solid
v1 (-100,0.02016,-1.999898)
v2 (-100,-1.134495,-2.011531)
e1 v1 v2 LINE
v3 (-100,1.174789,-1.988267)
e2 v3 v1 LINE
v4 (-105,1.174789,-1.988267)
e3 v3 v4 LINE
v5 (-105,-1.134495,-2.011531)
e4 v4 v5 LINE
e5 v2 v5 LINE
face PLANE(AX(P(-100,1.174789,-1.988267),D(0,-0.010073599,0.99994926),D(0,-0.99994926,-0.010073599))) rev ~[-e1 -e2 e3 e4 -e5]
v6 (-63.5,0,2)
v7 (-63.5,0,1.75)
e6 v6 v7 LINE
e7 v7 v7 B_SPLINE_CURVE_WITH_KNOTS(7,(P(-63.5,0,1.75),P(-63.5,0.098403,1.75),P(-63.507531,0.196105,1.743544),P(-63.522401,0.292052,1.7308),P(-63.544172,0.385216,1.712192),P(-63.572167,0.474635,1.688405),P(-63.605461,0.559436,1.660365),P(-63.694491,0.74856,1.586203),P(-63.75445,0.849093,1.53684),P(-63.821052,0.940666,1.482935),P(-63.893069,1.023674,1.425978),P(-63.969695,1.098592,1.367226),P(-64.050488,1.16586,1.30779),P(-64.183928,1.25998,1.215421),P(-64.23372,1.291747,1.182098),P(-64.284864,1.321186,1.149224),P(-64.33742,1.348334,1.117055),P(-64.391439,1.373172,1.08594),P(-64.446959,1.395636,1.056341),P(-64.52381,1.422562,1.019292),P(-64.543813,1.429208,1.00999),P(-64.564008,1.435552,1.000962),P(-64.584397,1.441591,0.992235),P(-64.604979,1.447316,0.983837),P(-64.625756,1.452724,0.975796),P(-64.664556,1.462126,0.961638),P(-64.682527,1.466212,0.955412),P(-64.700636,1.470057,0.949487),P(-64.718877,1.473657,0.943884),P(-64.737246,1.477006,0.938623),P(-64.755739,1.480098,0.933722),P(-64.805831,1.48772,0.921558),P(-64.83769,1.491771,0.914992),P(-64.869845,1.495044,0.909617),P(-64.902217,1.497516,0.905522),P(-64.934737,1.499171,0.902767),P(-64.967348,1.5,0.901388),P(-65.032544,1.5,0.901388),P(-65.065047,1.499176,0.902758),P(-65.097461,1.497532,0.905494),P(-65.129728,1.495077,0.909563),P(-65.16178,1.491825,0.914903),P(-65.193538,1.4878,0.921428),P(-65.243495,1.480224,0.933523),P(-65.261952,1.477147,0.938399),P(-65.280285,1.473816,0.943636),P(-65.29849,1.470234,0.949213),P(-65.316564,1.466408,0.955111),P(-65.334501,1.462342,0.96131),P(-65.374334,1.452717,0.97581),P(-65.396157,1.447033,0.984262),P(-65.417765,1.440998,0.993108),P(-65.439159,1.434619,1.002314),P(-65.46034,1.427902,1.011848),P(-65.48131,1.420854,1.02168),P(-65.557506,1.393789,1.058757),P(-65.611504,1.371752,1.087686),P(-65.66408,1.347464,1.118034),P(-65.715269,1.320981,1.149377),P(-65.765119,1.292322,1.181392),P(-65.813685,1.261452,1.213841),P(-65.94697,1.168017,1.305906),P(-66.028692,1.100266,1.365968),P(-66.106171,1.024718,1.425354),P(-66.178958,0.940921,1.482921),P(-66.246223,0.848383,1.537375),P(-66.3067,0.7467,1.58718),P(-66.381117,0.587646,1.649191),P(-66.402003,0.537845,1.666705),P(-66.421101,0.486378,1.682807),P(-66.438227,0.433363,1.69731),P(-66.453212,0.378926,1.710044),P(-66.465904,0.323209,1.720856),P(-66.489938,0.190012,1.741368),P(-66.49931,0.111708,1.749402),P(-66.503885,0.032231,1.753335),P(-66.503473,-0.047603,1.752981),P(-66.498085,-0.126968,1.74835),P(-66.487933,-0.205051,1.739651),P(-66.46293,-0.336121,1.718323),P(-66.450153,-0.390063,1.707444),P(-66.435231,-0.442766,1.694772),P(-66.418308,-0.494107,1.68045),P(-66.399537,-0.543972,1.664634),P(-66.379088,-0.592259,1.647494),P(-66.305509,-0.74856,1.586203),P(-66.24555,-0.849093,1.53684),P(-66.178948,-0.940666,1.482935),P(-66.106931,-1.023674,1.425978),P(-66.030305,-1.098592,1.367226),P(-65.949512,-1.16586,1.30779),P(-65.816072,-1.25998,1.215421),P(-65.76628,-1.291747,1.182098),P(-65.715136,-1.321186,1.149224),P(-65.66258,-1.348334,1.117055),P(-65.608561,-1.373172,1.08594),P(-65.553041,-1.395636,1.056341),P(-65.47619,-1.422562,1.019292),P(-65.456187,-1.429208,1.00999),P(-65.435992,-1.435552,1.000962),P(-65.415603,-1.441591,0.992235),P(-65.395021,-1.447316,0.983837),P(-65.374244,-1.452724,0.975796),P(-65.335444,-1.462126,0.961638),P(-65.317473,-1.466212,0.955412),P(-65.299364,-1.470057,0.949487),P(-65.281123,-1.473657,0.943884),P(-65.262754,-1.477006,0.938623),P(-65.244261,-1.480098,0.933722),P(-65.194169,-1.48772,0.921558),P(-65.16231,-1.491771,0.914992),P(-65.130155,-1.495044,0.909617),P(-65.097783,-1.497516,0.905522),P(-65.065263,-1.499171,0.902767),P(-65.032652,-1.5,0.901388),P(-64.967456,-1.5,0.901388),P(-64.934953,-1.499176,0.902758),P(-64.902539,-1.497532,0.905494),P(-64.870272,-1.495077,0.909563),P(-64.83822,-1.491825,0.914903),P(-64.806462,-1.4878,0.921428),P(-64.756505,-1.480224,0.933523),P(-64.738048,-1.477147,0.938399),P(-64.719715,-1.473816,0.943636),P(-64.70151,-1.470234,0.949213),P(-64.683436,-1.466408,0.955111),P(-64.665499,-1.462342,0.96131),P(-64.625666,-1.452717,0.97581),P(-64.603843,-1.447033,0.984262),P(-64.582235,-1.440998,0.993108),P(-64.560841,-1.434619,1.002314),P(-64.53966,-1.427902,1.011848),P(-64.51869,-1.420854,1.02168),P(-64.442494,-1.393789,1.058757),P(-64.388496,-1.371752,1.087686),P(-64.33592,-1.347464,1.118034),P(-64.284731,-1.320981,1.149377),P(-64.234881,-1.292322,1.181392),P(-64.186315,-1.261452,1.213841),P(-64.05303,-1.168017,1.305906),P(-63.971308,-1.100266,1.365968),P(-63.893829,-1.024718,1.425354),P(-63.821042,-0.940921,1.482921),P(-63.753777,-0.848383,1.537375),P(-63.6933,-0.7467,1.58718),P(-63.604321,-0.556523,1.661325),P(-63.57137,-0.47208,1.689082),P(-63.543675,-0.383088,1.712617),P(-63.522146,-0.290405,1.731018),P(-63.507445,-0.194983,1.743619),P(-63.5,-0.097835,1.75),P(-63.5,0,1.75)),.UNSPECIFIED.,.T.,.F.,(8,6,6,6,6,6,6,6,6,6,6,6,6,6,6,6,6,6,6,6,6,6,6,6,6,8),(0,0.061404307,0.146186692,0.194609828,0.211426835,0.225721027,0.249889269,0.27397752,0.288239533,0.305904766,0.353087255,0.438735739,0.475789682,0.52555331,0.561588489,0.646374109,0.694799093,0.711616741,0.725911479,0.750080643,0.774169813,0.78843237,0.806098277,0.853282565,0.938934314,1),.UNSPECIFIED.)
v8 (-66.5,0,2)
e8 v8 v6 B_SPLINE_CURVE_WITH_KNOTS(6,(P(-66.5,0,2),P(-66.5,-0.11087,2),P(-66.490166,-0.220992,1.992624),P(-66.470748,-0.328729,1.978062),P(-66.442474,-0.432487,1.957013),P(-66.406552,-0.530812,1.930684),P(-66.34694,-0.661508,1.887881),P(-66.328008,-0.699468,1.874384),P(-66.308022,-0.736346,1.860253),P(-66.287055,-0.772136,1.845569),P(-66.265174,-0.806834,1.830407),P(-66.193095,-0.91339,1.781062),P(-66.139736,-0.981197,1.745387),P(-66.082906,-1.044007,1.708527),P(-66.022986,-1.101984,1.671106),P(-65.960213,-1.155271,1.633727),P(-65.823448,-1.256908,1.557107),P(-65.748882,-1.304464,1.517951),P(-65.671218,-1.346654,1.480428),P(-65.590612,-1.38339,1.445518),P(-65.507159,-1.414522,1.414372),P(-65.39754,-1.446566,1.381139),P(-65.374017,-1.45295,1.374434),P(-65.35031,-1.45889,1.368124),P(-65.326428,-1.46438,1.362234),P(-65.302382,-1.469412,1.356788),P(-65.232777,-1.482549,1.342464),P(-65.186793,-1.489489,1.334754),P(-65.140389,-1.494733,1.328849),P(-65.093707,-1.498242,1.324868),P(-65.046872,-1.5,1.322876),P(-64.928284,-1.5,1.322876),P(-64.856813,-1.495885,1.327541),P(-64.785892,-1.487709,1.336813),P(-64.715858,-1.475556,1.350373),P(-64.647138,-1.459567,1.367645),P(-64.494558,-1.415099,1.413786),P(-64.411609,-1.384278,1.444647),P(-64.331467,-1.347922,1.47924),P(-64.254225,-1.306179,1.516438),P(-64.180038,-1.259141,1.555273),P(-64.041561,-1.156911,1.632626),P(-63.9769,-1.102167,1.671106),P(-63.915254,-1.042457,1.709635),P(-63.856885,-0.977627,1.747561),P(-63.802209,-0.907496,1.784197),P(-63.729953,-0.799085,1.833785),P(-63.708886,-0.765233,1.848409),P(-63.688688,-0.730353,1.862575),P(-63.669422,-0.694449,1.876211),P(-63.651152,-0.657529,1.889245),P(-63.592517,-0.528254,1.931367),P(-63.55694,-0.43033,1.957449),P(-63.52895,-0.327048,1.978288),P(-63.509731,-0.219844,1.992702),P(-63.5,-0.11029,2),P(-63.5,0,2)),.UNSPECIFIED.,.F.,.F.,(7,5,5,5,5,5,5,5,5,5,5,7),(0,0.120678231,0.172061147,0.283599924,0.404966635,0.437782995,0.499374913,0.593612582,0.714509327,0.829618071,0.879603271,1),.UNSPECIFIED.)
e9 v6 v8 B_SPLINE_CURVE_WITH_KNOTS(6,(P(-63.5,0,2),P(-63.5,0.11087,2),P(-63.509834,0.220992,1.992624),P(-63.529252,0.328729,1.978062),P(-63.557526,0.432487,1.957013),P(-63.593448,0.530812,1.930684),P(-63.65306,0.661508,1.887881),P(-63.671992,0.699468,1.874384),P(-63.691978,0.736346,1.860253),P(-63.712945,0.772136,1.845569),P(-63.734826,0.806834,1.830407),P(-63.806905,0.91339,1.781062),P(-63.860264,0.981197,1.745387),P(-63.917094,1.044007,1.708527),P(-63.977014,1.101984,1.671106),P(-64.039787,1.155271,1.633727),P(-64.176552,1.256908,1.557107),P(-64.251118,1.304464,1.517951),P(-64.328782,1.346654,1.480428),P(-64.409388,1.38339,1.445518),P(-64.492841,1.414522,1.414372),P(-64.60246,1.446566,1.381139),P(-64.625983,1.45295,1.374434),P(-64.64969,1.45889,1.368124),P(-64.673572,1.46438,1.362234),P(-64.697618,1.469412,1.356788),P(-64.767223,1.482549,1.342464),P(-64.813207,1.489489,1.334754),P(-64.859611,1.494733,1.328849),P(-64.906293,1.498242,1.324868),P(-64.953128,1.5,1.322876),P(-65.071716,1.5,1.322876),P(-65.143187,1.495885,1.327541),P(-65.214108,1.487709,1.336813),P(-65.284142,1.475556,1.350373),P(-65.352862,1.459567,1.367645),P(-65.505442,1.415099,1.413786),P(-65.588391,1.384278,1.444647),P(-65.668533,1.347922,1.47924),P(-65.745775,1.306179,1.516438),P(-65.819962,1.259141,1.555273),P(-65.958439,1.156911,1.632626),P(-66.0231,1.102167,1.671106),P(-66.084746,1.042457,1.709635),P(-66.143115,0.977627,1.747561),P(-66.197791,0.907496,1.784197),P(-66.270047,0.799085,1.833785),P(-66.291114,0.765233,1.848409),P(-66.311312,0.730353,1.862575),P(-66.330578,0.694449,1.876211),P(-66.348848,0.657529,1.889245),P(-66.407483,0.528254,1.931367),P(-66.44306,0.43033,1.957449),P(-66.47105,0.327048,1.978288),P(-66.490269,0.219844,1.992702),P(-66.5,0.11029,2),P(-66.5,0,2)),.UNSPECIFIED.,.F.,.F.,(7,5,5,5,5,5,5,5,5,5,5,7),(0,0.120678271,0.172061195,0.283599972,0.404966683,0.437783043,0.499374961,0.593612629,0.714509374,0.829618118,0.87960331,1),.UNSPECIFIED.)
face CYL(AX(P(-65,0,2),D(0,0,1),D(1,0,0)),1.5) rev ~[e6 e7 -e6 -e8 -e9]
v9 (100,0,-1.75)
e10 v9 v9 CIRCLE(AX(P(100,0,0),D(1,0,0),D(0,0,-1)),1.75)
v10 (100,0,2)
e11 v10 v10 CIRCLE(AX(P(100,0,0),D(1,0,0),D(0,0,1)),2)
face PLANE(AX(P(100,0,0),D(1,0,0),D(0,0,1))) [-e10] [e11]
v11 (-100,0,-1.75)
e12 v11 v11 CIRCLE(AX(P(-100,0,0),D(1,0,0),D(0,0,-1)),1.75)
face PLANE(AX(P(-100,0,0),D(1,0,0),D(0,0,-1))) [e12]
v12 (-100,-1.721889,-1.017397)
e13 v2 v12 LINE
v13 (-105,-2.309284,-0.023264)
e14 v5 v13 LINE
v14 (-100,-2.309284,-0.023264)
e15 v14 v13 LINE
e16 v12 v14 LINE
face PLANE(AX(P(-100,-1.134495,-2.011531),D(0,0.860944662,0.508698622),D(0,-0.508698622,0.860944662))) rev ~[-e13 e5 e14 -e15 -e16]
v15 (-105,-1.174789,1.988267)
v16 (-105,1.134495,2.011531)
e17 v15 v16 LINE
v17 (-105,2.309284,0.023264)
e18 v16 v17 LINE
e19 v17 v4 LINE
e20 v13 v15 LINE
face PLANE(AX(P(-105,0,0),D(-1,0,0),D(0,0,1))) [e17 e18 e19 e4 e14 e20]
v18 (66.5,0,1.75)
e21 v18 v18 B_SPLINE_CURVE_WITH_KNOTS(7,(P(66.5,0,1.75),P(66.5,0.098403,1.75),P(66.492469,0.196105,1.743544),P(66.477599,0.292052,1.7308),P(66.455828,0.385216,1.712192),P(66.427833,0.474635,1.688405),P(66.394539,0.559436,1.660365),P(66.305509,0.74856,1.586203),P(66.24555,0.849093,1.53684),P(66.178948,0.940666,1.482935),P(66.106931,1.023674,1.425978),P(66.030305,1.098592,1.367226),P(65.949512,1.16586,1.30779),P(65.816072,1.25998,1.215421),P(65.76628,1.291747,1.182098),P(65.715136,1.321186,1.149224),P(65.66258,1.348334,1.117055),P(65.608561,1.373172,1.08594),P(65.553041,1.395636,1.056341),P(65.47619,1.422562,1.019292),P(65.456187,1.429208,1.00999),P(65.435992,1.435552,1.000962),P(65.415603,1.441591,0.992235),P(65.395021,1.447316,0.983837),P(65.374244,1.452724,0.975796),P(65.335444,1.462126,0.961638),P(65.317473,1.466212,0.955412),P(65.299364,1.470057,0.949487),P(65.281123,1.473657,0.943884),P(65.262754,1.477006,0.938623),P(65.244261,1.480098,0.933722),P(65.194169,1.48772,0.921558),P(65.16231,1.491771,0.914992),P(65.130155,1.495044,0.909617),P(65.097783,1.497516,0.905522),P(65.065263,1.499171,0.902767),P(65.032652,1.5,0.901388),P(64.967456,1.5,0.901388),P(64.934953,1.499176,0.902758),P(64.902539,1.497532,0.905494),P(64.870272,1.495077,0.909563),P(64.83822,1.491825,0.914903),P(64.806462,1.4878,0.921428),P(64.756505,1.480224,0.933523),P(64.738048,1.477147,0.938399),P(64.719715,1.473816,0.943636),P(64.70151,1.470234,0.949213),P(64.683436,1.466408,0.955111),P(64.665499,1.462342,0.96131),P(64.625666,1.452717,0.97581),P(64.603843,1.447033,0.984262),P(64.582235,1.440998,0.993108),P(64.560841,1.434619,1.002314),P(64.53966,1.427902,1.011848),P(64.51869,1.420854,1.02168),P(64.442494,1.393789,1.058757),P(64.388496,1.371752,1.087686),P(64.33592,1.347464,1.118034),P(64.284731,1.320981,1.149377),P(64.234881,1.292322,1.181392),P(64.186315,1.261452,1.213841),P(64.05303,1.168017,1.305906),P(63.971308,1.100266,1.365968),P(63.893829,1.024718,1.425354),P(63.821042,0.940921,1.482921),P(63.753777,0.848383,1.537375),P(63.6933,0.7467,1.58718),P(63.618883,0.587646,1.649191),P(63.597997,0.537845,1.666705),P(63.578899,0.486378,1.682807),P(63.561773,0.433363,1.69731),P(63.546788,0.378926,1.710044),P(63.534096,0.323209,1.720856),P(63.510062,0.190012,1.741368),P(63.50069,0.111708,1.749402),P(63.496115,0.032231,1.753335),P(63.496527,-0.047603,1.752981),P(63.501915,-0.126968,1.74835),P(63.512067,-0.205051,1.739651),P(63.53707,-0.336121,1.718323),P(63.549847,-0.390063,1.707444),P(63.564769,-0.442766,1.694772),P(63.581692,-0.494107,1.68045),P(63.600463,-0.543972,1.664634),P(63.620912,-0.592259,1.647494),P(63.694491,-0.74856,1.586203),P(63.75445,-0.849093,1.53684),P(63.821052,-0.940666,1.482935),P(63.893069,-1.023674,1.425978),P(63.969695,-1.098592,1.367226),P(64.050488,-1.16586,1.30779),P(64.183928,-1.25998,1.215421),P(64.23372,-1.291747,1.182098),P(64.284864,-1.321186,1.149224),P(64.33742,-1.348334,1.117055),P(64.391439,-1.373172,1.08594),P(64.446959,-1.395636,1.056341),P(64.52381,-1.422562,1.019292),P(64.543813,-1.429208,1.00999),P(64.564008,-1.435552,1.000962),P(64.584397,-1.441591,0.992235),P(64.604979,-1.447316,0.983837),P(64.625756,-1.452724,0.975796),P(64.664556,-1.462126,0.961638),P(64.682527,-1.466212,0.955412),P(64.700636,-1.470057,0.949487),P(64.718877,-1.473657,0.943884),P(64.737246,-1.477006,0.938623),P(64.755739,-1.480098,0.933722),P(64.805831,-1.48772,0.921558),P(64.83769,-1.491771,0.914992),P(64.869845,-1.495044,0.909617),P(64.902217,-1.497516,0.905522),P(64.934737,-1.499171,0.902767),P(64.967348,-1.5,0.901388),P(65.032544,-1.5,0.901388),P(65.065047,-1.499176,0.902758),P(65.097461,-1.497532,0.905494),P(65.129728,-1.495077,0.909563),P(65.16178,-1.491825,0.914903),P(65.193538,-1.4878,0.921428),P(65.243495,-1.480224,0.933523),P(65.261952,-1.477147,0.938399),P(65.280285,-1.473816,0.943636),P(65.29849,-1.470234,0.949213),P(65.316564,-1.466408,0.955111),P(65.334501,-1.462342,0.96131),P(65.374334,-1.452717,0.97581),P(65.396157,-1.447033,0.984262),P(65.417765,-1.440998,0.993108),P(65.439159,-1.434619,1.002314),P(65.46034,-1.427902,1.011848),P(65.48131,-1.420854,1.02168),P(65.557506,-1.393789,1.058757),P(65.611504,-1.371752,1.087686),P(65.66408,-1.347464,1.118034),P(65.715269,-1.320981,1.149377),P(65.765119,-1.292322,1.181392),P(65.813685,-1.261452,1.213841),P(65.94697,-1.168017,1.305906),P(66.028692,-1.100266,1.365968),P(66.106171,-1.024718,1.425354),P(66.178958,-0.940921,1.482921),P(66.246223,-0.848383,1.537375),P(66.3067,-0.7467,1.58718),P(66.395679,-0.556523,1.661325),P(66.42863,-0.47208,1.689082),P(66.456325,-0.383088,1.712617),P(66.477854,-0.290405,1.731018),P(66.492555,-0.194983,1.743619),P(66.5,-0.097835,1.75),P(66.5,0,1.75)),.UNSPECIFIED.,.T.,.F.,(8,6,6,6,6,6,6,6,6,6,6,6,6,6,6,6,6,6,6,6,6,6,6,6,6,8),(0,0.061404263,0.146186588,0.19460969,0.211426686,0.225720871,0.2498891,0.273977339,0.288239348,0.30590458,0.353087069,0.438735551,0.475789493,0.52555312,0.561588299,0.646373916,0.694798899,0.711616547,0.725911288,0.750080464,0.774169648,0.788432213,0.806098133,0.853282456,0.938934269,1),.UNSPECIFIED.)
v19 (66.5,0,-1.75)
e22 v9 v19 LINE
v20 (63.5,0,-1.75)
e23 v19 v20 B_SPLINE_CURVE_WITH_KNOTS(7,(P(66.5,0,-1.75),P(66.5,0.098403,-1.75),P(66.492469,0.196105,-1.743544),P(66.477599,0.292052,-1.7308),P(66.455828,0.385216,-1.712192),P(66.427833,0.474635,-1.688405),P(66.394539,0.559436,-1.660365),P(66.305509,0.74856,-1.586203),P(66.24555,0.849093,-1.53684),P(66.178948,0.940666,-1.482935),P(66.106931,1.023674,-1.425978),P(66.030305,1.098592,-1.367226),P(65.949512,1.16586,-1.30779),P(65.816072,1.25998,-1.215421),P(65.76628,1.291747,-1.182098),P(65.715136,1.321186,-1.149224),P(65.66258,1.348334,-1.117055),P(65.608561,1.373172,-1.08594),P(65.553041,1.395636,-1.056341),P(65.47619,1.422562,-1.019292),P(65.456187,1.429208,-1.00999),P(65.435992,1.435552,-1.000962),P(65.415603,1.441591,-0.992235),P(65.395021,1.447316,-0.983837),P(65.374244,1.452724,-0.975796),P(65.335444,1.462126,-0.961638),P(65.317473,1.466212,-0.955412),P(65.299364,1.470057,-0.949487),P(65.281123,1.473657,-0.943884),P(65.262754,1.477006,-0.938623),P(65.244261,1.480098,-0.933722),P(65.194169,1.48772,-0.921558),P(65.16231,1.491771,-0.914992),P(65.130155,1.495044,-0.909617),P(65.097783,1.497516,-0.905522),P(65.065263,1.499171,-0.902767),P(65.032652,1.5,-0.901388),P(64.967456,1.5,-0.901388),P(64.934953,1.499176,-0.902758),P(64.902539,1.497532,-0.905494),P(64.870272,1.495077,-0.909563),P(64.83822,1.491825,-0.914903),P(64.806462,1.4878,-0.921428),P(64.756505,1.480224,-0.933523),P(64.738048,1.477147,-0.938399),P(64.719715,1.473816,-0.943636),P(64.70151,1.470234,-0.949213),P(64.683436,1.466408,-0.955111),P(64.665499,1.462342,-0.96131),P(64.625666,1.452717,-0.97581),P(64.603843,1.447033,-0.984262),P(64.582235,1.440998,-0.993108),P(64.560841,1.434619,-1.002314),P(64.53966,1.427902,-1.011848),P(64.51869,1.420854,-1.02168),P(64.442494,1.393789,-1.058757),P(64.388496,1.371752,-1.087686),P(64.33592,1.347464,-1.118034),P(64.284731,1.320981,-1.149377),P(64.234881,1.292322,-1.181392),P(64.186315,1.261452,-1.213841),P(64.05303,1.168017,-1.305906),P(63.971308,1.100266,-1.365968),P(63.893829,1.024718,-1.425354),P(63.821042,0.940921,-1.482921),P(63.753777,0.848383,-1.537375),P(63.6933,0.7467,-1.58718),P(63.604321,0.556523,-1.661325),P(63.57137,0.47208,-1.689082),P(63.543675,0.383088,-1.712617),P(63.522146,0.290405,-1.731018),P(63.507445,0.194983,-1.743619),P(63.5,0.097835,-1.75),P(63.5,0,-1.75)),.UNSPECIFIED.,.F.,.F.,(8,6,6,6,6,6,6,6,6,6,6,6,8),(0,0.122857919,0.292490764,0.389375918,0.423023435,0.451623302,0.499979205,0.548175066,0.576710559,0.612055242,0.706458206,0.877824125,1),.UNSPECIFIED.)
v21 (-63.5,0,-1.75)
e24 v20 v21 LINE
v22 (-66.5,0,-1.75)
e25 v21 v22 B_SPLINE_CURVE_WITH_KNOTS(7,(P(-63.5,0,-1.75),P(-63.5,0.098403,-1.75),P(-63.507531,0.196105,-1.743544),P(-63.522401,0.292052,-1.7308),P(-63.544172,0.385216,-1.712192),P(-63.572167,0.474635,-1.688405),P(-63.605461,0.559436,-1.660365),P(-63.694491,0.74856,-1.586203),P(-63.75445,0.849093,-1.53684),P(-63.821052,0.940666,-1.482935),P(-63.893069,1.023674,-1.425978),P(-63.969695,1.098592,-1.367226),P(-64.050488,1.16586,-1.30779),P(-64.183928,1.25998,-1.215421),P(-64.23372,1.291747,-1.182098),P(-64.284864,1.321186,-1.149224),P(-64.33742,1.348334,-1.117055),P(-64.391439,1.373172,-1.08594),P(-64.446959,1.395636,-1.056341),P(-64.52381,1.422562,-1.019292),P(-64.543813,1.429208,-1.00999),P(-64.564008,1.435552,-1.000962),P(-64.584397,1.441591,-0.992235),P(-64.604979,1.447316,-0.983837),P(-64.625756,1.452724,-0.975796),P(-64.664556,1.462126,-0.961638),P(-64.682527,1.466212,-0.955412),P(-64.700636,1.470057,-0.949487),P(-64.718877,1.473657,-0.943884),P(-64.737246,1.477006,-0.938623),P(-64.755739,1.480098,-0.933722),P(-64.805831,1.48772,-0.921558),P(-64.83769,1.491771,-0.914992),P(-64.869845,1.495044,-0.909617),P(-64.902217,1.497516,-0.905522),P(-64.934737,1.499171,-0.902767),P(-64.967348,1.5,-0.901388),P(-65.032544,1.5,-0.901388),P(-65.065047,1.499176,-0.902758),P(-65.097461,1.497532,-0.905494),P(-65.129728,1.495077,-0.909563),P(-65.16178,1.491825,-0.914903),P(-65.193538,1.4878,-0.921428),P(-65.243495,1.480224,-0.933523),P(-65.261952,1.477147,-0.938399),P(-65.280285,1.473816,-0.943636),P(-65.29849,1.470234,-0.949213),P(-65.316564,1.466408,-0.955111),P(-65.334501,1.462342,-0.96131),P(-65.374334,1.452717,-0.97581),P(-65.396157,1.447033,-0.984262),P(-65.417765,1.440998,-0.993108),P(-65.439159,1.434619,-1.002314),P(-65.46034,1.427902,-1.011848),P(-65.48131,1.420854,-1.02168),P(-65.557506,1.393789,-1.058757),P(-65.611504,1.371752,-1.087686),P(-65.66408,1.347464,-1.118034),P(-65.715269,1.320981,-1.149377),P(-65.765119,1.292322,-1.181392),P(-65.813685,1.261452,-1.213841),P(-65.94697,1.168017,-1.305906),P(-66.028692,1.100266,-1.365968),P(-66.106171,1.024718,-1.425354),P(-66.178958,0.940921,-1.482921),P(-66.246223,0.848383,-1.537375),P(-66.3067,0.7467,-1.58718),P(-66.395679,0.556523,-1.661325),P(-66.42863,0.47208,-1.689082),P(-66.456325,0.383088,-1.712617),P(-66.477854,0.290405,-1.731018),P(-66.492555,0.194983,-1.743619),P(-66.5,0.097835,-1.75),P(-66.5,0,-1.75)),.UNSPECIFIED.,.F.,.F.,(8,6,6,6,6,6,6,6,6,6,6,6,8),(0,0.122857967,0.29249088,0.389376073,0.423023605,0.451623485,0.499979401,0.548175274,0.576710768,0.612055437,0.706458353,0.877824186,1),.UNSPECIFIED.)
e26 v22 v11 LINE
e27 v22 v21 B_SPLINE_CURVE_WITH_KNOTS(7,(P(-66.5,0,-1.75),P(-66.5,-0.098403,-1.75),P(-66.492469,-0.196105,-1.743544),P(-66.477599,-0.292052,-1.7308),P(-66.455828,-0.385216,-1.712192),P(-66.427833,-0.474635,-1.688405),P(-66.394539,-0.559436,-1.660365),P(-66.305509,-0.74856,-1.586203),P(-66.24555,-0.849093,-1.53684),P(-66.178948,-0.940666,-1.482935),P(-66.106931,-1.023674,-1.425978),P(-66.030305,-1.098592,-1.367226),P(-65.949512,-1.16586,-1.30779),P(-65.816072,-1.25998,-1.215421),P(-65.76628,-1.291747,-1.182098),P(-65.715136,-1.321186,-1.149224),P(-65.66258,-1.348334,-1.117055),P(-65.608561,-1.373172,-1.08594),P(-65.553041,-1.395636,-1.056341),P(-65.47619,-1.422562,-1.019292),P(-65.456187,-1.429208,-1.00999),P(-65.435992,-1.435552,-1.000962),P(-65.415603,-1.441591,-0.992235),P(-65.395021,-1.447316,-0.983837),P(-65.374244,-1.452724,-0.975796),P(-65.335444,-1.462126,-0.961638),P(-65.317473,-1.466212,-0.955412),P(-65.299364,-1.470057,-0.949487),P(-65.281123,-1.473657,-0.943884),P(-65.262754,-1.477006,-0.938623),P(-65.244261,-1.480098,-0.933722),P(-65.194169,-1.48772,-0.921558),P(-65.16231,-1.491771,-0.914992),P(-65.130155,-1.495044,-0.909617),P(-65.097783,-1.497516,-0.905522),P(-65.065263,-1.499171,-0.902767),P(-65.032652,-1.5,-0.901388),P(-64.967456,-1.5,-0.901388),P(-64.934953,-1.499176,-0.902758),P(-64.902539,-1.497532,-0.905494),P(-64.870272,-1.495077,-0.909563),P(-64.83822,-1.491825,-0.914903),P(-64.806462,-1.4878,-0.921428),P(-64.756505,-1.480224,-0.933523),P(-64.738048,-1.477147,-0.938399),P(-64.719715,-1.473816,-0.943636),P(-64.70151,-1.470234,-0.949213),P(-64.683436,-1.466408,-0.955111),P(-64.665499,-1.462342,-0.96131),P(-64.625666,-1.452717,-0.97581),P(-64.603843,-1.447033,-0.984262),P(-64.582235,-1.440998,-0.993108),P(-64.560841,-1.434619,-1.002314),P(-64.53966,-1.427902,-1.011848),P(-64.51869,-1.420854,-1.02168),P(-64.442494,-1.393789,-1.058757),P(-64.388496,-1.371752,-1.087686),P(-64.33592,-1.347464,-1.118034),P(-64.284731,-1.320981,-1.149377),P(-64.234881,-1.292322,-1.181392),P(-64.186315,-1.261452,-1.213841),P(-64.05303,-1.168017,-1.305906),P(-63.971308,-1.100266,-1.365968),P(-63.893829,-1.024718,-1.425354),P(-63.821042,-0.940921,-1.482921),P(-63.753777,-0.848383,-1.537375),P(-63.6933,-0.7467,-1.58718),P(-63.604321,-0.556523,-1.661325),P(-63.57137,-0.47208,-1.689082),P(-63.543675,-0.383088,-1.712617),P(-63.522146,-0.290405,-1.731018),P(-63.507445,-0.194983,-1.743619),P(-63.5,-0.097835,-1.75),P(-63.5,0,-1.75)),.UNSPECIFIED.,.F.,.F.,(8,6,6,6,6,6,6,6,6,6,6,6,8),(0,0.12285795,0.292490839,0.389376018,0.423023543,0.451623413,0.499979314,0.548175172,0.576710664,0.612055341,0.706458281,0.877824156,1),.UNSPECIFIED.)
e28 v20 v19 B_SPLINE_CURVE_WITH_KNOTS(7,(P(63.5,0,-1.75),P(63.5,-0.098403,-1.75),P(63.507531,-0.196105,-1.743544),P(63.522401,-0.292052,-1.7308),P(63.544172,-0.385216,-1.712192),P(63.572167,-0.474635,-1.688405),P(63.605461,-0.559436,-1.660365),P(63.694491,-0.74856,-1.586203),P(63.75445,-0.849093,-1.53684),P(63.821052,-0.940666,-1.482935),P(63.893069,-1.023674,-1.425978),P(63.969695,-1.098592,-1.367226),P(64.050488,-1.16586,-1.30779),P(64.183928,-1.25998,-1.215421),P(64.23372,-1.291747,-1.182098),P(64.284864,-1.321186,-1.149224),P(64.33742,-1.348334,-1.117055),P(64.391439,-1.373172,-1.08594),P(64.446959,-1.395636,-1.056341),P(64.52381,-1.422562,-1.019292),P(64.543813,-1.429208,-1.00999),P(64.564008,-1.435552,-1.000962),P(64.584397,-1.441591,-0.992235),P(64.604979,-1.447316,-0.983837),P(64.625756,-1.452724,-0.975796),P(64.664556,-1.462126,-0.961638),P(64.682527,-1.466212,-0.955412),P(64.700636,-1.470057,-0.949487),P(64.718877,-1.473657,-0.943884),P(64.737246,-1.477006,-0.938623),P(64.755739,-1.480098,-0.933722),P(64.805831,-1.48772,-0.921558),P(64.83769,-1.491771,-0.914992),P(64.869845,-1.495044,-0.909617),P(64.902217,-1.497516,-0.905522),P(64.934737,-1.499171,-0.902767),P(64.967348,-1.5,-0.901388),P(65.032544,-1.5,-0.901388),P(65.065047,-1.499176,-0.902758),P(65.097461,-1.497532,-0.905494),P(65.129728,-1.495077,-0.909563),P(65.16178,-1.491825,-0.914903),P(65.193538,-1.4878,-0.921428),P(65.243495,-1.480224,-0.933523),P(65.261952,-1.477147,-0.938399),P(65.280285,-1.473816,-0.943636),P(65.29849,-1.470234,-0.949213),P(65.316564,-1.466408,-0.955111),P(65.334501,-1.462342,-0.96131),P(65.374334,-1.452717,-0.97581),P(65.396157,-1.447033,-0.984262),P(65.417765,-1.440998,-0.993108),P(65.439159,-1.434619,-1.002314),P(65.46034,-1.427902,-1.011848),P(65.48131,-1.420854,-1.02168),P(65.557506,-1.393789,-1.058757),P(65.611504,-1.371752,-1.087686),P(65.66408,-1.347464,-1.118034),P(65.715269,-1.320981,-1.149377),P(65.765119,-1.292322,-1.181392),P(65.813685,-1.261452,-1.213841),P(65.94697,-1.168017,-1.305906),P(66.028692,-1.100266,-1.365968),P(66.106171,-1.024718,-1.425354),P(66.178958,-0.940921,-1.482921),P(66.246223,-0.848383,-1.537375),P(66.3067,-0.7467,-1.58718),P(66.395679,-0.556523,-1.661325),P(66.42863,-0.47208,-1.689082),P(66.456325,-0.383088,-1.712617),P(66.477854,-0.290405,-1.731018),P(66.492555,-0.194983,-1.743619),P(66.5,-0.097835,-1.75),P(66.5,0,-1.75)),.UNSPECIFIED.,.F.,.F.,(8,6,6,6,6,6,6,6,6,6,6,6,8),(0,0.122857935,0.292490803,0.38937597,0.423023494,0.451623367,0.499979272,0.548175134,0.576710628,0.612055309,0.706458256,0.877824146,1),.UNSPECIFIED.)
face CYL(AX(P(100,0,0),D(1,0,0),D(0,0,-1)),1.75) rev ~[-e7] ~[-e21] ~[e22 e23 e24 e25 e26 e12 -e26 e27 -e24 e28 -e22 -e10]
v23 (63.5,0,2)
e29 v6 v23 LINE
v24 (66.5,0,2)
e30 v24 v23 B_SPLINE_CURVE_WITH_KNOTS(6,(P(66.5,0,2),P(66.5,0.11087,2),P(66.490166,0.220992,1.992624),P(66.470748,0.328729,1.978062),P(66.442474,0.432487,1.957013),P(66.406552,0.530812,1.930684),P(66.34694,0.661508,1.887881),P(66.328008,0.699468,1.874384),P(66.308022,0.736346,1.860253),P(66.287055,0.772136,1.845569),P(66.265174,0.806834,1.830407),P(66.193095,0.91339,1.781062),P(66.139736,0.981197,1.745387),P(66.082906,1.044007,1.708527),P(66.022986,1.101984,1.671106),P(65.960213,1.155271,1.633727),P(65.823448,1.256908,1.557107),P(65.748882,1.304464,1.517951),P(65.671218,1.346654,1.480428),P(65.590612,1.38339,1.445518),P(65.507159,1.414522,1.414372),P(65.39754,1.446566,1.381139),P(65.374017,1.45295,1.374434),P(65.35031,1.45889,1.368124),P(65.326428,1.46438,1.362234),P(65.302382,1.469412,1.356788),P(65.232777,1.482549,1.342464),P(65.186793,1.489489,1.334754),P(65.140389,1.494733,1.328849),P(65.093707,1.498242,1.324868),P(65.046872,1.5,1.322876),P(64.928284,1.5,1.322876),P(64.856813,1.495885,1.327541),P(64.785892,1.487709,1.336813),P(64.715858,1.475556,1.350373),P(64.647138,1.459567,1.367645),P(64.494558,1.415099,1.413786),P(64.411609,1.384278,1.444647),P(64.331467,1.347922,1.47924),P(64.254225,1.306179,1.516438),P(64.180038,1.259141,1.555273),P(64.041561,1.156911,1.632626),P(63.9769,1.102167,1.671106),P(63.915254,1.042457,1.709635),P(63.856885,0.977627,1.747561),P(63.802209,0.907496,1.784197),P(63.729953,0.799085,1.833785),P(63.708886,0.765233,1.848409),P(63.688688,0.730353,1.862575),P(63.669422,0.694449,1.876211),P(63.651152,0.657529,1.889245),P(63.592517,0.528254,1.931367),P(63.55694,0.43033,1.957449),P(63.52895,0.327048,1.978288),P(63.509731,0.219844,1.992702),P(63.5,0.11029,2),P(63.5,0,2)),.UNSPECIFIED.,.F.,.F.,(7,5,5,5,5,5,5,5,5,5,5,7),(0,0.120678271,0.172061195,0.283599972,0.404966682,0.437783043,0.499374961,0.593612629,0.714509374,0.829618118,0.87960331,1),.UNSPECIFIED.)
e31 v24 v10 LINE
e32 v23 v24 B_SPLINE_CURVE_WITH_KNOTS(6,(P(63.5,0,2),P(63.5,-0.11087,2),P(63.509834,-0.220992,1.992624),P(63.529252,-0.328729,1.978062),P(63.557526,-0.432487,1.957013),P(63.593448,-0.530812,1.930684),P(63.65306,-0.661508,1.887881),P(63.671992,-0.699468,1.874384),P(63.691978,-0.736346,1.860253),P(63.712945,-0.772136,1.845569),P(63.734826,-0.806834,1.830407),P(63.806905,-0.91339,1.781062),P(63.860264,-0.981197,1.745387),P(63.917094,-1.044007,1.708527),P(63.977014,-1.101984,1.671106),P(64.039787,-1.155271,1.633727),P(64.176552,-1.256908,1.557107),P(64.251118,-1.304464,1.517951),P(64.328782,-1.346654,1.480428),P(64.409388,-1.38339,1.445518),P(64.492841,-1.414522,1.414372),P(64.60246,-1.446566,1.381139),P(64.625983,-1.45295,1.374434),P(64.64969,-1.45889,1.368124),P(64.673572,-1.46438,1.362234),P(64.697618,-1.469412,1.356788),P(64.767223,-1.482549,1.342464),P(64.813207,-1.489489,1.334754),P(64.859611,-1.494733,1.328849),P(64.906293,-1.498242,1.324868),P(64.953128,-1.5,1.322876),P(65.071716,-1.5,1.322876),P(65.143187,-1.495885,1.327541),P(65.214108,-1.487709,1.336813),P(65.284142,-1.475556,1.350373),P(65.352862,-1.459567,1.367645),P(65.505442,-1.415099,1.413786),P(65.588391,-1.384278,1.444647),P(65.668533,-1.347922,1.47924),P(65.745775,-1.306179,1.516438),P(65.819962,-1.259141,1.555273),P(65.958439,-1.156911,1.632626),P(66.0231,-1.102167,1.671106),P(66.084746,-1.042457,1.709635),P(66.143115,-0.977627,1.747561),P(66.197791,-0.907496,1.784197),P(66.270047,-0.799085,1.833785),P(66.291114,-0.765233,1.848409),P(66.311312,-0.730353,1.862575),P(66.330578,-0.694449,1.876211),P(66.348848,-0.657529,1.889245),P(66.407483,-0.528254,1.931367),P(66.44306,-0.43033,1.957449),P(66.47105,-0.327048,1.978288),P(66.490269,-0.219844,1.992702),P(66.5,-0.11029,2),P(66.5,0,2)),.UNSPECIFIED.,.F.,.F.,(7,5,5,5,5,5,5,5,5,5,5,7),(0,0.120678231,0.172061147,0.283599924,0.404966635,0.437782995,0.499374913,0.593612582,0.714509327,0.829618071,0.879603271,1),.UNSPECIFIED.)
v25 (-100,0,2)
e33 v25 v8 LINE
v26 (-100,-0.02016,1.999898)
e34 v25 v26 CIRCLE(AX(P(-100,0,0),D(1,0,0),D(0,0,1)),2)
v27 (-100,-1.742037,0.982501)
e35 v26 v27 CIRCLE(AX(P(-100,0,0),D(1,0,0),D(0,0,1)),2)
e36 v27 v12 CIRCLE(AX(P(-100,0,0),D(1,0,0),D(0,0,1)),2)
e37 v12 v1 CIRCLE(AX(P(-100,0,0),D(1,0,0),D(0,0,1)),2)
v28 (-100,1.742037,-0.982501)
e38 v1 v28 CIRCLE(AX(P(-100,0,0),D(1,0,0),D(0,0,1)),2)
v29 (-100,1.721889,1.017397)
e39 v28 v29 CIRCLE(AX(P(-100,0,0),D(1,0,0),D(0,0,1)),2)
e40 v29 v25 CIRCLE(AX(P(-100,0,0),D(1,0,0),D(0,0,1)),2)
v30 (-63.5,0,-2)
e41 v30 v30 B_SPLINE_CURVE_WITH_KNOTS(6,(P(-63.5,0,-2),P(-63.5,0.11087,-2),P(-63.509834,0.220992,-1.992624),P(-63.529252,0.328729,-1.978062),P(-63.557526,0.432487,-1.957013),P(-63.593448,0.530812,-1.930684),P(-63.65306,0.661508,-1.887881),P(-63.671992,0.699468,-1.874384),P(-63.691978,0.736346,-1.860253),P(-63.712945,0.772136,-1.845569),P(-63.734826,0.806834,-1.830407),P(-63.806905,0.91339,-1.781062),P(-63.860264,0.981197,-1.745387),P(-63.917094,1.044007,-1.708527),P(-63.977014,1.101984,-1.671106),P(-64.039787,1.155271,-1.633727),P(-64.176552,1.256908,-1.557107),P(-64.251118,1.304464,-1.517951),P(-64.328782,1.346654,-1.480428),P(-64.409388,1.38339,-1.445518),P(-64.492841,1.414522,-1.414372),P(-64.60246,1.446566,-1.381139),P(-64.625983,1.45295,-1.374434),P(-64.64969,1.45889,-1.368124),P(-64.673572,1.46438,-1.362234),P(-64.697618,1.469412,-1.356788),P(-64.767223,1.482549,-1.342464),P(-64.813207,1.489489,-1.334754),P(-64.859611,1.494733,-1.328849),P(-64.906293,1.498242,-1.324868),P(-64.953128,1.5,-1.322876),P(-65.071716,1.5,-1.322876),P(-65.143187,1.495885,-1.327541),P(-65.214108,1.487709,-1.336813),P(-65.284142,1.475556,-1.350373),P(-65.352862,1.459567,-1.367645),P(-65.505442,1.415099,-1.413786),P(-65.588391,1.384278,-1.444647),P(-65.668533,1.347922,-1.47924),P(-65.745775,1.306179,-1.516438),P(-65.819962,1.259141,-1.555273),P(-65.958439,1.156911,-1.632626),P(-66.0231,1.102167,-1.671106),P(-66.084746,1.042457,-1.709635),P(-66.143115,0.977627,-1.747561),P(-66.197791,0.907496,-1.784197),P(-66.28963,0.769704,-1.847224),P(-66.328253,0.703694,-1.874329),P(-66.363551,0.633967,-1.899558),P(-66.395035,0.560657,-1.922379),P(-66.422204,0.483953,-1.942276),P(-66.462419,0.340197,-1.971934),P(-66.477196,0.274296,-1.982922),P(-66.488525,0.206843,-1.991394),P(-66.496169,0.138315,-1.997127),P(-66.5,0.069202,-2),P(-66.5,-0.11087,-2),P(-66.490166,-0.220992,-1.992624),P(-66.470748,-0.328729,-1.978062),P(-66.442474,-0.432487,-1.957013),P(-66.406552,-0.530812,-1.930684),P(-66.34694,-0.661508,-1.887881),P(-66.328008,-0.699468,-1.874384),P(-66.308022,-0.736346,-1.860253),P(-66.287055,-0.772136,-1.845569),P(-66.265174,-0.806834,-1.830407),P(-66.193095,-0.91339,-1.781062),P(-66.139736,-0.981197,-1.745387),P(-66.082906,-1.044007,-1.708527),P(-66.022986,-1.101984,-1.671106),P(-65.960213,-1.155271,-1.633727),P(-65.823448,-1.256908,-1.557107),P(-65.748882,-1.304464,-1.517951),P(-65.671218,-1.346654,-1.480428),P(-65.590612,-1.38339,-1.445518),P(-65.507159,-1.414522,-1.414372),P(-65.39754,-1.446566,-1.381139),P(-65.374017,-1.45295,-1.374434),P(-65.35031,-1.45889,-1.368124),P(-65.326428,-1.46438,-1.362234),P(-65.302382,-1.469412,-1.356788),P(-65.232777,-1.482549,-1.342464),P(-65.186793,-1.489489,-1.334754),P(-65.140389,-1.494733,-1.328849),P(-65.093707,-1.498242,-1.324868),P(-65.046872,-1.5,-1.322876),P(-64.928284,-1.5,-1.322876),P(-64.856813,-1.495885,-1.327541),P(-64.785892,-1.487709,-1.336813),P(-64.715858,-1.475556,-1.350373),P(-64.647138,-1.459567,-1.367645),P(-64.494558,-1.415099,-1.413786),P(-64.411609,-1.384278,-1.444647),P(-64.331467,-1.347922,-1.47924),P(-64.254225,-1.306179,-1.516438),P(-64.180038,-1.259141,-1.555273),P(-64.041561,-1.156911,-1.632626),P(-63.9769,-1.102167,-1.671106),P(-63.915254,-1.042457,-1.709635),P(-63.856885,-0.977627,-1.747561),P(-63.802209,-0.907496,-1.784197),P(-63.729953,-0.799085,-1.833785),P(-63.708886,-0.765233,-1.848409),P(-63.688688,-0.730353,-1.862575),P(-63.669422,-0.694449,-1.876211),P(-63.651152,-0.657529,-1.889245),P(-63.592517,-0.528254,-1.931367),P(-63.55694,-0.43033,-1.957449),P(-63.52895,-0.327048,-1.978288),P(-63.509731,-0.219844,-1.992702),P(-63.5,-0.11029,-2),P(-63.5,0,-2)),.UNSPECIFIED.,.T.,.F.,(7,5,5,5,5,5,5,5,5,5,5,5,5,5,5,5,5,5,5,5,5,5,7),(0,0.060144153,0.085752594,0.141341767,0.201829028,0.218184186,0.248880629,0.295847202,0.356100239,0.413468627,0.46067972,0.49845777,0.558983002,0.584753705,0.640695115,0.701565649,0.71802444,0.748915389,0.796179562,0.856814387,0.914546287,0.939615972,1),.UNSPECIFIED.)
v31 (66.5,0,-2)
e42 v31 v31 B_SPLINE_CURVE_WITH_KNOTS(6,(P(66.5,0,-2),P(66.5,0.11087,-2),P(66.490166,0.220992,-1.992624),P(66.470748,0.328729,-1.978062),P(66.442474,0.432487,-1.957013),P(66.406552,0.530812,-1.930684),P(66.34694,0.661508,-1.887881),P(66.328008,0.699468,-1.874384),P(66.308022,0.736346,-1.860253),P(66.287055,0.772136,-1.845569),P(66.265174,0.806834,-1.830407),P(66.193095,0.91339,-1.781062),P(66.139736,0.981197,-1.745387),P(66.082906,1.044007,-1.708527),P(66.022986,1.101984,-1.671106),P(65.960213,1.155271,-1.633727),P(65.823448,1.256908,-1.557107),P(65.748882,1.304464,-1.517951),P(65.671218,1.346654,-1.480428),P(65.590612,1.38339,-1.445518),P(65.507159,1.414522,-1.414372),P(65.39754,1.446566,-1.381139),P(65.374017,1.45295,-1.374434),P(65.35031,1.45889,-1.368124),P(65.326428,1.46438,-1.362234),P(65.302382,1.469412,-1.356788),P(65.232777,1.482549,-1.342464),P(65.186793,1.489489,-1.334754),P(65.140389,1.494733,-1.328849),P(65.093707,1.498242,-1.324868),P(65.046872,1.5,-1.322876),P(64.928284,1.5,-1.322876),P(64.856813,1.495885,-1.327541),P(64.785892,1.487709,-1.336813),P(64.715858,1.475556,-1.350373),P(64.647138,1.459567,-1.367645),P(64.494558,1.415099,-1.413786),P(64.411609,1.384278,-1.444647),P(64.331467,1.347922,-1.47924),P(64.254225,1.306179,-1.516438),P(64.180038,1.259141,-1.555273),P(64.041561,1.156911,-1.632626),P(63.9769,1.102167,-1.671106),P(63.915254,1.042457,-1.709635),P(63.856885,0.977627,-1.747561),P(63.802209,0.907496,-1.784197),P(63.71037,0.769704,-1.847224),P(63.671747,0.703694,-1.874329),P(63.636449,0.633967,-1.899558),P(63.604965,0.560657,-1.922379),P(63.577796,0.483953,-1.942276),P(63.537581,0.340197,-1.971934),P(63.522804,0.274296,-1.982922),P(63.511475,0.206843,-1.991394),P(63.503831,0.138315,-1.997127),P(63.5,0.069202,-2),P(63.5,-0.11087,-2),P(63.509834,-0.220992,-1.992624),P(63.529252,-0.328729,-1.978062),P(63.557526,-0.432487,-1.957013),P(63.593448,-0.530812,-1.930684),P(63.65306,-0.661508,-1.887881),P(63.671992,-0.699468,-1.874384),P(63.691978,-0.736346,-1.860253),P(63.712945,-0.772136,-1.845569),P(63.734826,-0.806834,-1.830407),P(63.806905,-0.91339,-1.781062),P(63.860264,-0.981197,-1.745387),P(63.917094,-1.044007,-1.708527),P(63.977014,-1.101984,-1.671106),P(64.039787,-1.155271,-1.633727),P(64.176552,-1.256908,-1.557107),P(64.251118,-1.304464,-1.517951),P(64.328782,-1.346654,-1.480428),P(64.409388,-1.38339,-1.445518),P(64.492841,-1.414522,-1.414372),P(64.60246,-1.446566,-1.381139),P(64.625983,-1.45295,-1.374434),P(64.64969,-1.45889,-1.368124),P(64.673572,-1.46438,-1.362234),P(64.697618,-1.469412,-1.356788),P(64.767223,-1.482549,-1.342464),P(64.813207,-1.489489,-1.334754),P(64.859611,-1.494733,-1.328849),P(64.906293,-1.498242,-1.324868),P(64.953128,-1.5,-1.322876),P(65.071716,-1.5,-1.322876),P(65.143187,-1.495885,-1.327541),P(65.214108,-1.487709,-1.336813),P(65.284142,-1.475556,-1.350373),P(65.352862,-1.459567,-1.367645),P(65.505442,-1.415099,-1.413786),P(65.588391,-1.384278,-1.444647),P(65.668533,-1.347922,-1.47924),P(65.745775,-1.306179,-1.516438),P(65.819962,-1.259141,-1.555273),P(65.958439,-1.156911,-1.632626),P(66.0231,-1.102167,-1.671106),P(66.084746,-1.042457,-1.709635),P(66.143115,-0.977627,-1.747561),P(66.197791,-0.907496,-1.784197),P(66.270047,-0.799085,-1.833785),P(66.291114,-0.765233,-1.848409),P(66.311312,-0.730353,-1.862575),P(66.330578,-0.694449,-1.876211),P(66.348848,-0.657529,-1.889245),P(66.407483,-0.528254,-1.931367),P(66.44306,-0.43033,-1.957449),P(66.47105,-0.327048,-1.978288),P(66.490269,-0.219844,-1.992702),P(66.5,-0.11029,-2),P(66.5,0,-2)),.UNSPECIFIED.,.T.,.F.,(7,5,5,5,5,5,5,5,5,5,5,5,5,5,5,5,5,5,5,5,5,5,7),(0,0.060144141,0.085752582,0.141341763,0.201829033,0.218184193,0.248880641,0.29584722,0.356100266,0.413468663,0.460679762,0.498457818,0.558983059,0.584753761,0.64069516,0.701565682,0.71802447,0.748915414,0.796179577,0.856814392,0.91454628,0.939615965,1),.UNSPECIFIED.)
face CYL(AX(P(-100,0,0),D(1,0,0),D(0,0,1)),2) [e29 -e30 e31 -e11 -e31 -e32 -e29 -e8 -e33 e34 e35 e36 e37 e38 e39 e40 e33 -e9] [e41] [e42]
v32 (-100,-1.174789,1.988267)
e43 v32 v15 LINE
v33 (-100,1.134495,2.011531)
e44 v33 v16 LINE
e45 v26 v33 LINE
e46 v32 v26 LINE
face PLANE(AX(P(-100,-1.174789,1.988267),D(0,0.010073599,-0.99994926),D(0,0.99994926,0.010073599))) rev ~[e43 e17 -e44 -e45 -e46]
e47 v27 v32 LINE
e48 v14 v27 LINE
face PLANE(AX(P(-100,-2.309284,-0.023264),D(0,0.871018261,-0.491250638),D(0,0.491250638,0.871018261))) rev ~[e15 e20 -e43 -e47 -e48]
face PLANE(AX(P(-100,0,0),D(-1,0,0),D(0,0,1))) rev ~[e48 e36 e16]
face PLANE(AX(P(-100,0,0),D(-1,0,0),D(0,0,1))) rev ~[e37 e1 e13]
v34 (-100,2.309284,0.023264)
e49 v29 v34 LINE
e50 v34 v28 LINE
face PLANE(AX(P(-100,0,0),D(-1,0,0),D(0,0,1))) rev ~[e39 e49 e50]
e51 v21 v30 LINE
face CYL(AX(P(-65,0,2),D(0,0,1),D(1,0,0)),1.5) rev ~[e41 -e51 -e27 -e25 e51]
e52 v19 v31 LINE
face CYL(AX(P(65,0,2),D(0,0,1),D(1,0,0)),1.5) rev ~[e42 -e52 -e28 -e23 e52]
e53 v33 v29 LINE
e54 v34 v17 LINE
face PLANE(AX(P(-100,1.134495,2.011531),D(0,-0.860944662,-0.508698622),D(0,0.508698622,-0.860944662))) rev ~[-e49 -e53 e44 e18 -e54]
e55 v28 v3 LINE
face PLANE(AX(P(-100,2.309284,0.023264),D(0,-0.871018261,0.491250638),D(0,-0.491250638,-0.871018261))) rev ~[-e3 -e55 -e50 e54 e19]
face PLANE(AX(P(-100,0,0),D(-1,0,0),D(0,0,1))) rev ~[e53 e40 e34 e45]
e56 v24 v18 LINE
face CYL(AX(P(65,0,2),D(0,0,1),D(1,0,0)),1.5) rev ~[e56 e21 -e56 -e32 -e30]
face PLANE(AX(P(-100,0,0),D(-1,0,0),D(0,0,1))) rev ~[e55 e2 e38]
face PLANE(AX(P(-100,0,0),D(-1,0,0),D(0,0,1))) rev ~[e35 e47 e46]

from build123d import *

# Parameters (mm, degrees)
SWEEP1_PROFILE_R    = 2
BOSS_EXTRUDE1_DEPTH = 5
SKETCH10_R          = 1.75
CUT_EXTRUDE1_DEPTH  = 200
SKETCH35_R          = 1.5
CUT_EXTRUDE3_DEPTH  = 10


with BuildPart() as part:
    # Sweep1: sweep along a path in Sketch2
    with BuildLine(Plane(origin=(0, 0, 0), x_dir=(1, 0, 0), z_dir=(0, 1, 0))) as sweep1_path:
        Line((-100, 0), (100, 0))
    # Sweep1 profile (on start of the path) → Sweep1 (sweep)
    with BuildSketch(Plane(origin=(-100, 0, 0), x_dir=(0, 0, 1), z_dir=(1, 0, 0))):
        Circle(SWEEP1_PROFILE_R)
    sweep(path=sweep1_path.line)

    # Sketch9 → Boss-Extrude1 (add)
    with BuildSketch(Plane.ZY.offset(100)):
        Polygon((1.98826653, -1.174789146), (2.01153051, 1.134494752), (0.023263979, 2.309283898), (-1.98826653, 1.174789146), (-2.01153051, -1.134494752), (-0.023263979, -2.309283898), align=None)
    extrude(amount=BOSS_EXTRUDE1_DEPTH)

    # Sketch10 → Cut-Extrude1 (cut)
    with BuildSketch(Plane(origin=(100, 0, 0), x_dir=(0, 0, -1), z_dir=(1, 0, 0))):
        Circle(SKETCH10_R)
    extrude(amount=-CUT_EXTRUDE1_DEPTH, mode=Mode.SUBTRACT)

    # Sketch35 → Cut-Extrude3 (cut)
    with BuildSketch(Plane.XY.offset(2)):
        with Locations((65, 0)):
            Circle(SKETCH35_R)
        with Locations((-65, 0)):
            Circle(SKETCH35_R)
    extrude(amount=-CUT_EXTRUDE3_DEPTH, mode=Mode.SUBTRACT)


solid = part.part
